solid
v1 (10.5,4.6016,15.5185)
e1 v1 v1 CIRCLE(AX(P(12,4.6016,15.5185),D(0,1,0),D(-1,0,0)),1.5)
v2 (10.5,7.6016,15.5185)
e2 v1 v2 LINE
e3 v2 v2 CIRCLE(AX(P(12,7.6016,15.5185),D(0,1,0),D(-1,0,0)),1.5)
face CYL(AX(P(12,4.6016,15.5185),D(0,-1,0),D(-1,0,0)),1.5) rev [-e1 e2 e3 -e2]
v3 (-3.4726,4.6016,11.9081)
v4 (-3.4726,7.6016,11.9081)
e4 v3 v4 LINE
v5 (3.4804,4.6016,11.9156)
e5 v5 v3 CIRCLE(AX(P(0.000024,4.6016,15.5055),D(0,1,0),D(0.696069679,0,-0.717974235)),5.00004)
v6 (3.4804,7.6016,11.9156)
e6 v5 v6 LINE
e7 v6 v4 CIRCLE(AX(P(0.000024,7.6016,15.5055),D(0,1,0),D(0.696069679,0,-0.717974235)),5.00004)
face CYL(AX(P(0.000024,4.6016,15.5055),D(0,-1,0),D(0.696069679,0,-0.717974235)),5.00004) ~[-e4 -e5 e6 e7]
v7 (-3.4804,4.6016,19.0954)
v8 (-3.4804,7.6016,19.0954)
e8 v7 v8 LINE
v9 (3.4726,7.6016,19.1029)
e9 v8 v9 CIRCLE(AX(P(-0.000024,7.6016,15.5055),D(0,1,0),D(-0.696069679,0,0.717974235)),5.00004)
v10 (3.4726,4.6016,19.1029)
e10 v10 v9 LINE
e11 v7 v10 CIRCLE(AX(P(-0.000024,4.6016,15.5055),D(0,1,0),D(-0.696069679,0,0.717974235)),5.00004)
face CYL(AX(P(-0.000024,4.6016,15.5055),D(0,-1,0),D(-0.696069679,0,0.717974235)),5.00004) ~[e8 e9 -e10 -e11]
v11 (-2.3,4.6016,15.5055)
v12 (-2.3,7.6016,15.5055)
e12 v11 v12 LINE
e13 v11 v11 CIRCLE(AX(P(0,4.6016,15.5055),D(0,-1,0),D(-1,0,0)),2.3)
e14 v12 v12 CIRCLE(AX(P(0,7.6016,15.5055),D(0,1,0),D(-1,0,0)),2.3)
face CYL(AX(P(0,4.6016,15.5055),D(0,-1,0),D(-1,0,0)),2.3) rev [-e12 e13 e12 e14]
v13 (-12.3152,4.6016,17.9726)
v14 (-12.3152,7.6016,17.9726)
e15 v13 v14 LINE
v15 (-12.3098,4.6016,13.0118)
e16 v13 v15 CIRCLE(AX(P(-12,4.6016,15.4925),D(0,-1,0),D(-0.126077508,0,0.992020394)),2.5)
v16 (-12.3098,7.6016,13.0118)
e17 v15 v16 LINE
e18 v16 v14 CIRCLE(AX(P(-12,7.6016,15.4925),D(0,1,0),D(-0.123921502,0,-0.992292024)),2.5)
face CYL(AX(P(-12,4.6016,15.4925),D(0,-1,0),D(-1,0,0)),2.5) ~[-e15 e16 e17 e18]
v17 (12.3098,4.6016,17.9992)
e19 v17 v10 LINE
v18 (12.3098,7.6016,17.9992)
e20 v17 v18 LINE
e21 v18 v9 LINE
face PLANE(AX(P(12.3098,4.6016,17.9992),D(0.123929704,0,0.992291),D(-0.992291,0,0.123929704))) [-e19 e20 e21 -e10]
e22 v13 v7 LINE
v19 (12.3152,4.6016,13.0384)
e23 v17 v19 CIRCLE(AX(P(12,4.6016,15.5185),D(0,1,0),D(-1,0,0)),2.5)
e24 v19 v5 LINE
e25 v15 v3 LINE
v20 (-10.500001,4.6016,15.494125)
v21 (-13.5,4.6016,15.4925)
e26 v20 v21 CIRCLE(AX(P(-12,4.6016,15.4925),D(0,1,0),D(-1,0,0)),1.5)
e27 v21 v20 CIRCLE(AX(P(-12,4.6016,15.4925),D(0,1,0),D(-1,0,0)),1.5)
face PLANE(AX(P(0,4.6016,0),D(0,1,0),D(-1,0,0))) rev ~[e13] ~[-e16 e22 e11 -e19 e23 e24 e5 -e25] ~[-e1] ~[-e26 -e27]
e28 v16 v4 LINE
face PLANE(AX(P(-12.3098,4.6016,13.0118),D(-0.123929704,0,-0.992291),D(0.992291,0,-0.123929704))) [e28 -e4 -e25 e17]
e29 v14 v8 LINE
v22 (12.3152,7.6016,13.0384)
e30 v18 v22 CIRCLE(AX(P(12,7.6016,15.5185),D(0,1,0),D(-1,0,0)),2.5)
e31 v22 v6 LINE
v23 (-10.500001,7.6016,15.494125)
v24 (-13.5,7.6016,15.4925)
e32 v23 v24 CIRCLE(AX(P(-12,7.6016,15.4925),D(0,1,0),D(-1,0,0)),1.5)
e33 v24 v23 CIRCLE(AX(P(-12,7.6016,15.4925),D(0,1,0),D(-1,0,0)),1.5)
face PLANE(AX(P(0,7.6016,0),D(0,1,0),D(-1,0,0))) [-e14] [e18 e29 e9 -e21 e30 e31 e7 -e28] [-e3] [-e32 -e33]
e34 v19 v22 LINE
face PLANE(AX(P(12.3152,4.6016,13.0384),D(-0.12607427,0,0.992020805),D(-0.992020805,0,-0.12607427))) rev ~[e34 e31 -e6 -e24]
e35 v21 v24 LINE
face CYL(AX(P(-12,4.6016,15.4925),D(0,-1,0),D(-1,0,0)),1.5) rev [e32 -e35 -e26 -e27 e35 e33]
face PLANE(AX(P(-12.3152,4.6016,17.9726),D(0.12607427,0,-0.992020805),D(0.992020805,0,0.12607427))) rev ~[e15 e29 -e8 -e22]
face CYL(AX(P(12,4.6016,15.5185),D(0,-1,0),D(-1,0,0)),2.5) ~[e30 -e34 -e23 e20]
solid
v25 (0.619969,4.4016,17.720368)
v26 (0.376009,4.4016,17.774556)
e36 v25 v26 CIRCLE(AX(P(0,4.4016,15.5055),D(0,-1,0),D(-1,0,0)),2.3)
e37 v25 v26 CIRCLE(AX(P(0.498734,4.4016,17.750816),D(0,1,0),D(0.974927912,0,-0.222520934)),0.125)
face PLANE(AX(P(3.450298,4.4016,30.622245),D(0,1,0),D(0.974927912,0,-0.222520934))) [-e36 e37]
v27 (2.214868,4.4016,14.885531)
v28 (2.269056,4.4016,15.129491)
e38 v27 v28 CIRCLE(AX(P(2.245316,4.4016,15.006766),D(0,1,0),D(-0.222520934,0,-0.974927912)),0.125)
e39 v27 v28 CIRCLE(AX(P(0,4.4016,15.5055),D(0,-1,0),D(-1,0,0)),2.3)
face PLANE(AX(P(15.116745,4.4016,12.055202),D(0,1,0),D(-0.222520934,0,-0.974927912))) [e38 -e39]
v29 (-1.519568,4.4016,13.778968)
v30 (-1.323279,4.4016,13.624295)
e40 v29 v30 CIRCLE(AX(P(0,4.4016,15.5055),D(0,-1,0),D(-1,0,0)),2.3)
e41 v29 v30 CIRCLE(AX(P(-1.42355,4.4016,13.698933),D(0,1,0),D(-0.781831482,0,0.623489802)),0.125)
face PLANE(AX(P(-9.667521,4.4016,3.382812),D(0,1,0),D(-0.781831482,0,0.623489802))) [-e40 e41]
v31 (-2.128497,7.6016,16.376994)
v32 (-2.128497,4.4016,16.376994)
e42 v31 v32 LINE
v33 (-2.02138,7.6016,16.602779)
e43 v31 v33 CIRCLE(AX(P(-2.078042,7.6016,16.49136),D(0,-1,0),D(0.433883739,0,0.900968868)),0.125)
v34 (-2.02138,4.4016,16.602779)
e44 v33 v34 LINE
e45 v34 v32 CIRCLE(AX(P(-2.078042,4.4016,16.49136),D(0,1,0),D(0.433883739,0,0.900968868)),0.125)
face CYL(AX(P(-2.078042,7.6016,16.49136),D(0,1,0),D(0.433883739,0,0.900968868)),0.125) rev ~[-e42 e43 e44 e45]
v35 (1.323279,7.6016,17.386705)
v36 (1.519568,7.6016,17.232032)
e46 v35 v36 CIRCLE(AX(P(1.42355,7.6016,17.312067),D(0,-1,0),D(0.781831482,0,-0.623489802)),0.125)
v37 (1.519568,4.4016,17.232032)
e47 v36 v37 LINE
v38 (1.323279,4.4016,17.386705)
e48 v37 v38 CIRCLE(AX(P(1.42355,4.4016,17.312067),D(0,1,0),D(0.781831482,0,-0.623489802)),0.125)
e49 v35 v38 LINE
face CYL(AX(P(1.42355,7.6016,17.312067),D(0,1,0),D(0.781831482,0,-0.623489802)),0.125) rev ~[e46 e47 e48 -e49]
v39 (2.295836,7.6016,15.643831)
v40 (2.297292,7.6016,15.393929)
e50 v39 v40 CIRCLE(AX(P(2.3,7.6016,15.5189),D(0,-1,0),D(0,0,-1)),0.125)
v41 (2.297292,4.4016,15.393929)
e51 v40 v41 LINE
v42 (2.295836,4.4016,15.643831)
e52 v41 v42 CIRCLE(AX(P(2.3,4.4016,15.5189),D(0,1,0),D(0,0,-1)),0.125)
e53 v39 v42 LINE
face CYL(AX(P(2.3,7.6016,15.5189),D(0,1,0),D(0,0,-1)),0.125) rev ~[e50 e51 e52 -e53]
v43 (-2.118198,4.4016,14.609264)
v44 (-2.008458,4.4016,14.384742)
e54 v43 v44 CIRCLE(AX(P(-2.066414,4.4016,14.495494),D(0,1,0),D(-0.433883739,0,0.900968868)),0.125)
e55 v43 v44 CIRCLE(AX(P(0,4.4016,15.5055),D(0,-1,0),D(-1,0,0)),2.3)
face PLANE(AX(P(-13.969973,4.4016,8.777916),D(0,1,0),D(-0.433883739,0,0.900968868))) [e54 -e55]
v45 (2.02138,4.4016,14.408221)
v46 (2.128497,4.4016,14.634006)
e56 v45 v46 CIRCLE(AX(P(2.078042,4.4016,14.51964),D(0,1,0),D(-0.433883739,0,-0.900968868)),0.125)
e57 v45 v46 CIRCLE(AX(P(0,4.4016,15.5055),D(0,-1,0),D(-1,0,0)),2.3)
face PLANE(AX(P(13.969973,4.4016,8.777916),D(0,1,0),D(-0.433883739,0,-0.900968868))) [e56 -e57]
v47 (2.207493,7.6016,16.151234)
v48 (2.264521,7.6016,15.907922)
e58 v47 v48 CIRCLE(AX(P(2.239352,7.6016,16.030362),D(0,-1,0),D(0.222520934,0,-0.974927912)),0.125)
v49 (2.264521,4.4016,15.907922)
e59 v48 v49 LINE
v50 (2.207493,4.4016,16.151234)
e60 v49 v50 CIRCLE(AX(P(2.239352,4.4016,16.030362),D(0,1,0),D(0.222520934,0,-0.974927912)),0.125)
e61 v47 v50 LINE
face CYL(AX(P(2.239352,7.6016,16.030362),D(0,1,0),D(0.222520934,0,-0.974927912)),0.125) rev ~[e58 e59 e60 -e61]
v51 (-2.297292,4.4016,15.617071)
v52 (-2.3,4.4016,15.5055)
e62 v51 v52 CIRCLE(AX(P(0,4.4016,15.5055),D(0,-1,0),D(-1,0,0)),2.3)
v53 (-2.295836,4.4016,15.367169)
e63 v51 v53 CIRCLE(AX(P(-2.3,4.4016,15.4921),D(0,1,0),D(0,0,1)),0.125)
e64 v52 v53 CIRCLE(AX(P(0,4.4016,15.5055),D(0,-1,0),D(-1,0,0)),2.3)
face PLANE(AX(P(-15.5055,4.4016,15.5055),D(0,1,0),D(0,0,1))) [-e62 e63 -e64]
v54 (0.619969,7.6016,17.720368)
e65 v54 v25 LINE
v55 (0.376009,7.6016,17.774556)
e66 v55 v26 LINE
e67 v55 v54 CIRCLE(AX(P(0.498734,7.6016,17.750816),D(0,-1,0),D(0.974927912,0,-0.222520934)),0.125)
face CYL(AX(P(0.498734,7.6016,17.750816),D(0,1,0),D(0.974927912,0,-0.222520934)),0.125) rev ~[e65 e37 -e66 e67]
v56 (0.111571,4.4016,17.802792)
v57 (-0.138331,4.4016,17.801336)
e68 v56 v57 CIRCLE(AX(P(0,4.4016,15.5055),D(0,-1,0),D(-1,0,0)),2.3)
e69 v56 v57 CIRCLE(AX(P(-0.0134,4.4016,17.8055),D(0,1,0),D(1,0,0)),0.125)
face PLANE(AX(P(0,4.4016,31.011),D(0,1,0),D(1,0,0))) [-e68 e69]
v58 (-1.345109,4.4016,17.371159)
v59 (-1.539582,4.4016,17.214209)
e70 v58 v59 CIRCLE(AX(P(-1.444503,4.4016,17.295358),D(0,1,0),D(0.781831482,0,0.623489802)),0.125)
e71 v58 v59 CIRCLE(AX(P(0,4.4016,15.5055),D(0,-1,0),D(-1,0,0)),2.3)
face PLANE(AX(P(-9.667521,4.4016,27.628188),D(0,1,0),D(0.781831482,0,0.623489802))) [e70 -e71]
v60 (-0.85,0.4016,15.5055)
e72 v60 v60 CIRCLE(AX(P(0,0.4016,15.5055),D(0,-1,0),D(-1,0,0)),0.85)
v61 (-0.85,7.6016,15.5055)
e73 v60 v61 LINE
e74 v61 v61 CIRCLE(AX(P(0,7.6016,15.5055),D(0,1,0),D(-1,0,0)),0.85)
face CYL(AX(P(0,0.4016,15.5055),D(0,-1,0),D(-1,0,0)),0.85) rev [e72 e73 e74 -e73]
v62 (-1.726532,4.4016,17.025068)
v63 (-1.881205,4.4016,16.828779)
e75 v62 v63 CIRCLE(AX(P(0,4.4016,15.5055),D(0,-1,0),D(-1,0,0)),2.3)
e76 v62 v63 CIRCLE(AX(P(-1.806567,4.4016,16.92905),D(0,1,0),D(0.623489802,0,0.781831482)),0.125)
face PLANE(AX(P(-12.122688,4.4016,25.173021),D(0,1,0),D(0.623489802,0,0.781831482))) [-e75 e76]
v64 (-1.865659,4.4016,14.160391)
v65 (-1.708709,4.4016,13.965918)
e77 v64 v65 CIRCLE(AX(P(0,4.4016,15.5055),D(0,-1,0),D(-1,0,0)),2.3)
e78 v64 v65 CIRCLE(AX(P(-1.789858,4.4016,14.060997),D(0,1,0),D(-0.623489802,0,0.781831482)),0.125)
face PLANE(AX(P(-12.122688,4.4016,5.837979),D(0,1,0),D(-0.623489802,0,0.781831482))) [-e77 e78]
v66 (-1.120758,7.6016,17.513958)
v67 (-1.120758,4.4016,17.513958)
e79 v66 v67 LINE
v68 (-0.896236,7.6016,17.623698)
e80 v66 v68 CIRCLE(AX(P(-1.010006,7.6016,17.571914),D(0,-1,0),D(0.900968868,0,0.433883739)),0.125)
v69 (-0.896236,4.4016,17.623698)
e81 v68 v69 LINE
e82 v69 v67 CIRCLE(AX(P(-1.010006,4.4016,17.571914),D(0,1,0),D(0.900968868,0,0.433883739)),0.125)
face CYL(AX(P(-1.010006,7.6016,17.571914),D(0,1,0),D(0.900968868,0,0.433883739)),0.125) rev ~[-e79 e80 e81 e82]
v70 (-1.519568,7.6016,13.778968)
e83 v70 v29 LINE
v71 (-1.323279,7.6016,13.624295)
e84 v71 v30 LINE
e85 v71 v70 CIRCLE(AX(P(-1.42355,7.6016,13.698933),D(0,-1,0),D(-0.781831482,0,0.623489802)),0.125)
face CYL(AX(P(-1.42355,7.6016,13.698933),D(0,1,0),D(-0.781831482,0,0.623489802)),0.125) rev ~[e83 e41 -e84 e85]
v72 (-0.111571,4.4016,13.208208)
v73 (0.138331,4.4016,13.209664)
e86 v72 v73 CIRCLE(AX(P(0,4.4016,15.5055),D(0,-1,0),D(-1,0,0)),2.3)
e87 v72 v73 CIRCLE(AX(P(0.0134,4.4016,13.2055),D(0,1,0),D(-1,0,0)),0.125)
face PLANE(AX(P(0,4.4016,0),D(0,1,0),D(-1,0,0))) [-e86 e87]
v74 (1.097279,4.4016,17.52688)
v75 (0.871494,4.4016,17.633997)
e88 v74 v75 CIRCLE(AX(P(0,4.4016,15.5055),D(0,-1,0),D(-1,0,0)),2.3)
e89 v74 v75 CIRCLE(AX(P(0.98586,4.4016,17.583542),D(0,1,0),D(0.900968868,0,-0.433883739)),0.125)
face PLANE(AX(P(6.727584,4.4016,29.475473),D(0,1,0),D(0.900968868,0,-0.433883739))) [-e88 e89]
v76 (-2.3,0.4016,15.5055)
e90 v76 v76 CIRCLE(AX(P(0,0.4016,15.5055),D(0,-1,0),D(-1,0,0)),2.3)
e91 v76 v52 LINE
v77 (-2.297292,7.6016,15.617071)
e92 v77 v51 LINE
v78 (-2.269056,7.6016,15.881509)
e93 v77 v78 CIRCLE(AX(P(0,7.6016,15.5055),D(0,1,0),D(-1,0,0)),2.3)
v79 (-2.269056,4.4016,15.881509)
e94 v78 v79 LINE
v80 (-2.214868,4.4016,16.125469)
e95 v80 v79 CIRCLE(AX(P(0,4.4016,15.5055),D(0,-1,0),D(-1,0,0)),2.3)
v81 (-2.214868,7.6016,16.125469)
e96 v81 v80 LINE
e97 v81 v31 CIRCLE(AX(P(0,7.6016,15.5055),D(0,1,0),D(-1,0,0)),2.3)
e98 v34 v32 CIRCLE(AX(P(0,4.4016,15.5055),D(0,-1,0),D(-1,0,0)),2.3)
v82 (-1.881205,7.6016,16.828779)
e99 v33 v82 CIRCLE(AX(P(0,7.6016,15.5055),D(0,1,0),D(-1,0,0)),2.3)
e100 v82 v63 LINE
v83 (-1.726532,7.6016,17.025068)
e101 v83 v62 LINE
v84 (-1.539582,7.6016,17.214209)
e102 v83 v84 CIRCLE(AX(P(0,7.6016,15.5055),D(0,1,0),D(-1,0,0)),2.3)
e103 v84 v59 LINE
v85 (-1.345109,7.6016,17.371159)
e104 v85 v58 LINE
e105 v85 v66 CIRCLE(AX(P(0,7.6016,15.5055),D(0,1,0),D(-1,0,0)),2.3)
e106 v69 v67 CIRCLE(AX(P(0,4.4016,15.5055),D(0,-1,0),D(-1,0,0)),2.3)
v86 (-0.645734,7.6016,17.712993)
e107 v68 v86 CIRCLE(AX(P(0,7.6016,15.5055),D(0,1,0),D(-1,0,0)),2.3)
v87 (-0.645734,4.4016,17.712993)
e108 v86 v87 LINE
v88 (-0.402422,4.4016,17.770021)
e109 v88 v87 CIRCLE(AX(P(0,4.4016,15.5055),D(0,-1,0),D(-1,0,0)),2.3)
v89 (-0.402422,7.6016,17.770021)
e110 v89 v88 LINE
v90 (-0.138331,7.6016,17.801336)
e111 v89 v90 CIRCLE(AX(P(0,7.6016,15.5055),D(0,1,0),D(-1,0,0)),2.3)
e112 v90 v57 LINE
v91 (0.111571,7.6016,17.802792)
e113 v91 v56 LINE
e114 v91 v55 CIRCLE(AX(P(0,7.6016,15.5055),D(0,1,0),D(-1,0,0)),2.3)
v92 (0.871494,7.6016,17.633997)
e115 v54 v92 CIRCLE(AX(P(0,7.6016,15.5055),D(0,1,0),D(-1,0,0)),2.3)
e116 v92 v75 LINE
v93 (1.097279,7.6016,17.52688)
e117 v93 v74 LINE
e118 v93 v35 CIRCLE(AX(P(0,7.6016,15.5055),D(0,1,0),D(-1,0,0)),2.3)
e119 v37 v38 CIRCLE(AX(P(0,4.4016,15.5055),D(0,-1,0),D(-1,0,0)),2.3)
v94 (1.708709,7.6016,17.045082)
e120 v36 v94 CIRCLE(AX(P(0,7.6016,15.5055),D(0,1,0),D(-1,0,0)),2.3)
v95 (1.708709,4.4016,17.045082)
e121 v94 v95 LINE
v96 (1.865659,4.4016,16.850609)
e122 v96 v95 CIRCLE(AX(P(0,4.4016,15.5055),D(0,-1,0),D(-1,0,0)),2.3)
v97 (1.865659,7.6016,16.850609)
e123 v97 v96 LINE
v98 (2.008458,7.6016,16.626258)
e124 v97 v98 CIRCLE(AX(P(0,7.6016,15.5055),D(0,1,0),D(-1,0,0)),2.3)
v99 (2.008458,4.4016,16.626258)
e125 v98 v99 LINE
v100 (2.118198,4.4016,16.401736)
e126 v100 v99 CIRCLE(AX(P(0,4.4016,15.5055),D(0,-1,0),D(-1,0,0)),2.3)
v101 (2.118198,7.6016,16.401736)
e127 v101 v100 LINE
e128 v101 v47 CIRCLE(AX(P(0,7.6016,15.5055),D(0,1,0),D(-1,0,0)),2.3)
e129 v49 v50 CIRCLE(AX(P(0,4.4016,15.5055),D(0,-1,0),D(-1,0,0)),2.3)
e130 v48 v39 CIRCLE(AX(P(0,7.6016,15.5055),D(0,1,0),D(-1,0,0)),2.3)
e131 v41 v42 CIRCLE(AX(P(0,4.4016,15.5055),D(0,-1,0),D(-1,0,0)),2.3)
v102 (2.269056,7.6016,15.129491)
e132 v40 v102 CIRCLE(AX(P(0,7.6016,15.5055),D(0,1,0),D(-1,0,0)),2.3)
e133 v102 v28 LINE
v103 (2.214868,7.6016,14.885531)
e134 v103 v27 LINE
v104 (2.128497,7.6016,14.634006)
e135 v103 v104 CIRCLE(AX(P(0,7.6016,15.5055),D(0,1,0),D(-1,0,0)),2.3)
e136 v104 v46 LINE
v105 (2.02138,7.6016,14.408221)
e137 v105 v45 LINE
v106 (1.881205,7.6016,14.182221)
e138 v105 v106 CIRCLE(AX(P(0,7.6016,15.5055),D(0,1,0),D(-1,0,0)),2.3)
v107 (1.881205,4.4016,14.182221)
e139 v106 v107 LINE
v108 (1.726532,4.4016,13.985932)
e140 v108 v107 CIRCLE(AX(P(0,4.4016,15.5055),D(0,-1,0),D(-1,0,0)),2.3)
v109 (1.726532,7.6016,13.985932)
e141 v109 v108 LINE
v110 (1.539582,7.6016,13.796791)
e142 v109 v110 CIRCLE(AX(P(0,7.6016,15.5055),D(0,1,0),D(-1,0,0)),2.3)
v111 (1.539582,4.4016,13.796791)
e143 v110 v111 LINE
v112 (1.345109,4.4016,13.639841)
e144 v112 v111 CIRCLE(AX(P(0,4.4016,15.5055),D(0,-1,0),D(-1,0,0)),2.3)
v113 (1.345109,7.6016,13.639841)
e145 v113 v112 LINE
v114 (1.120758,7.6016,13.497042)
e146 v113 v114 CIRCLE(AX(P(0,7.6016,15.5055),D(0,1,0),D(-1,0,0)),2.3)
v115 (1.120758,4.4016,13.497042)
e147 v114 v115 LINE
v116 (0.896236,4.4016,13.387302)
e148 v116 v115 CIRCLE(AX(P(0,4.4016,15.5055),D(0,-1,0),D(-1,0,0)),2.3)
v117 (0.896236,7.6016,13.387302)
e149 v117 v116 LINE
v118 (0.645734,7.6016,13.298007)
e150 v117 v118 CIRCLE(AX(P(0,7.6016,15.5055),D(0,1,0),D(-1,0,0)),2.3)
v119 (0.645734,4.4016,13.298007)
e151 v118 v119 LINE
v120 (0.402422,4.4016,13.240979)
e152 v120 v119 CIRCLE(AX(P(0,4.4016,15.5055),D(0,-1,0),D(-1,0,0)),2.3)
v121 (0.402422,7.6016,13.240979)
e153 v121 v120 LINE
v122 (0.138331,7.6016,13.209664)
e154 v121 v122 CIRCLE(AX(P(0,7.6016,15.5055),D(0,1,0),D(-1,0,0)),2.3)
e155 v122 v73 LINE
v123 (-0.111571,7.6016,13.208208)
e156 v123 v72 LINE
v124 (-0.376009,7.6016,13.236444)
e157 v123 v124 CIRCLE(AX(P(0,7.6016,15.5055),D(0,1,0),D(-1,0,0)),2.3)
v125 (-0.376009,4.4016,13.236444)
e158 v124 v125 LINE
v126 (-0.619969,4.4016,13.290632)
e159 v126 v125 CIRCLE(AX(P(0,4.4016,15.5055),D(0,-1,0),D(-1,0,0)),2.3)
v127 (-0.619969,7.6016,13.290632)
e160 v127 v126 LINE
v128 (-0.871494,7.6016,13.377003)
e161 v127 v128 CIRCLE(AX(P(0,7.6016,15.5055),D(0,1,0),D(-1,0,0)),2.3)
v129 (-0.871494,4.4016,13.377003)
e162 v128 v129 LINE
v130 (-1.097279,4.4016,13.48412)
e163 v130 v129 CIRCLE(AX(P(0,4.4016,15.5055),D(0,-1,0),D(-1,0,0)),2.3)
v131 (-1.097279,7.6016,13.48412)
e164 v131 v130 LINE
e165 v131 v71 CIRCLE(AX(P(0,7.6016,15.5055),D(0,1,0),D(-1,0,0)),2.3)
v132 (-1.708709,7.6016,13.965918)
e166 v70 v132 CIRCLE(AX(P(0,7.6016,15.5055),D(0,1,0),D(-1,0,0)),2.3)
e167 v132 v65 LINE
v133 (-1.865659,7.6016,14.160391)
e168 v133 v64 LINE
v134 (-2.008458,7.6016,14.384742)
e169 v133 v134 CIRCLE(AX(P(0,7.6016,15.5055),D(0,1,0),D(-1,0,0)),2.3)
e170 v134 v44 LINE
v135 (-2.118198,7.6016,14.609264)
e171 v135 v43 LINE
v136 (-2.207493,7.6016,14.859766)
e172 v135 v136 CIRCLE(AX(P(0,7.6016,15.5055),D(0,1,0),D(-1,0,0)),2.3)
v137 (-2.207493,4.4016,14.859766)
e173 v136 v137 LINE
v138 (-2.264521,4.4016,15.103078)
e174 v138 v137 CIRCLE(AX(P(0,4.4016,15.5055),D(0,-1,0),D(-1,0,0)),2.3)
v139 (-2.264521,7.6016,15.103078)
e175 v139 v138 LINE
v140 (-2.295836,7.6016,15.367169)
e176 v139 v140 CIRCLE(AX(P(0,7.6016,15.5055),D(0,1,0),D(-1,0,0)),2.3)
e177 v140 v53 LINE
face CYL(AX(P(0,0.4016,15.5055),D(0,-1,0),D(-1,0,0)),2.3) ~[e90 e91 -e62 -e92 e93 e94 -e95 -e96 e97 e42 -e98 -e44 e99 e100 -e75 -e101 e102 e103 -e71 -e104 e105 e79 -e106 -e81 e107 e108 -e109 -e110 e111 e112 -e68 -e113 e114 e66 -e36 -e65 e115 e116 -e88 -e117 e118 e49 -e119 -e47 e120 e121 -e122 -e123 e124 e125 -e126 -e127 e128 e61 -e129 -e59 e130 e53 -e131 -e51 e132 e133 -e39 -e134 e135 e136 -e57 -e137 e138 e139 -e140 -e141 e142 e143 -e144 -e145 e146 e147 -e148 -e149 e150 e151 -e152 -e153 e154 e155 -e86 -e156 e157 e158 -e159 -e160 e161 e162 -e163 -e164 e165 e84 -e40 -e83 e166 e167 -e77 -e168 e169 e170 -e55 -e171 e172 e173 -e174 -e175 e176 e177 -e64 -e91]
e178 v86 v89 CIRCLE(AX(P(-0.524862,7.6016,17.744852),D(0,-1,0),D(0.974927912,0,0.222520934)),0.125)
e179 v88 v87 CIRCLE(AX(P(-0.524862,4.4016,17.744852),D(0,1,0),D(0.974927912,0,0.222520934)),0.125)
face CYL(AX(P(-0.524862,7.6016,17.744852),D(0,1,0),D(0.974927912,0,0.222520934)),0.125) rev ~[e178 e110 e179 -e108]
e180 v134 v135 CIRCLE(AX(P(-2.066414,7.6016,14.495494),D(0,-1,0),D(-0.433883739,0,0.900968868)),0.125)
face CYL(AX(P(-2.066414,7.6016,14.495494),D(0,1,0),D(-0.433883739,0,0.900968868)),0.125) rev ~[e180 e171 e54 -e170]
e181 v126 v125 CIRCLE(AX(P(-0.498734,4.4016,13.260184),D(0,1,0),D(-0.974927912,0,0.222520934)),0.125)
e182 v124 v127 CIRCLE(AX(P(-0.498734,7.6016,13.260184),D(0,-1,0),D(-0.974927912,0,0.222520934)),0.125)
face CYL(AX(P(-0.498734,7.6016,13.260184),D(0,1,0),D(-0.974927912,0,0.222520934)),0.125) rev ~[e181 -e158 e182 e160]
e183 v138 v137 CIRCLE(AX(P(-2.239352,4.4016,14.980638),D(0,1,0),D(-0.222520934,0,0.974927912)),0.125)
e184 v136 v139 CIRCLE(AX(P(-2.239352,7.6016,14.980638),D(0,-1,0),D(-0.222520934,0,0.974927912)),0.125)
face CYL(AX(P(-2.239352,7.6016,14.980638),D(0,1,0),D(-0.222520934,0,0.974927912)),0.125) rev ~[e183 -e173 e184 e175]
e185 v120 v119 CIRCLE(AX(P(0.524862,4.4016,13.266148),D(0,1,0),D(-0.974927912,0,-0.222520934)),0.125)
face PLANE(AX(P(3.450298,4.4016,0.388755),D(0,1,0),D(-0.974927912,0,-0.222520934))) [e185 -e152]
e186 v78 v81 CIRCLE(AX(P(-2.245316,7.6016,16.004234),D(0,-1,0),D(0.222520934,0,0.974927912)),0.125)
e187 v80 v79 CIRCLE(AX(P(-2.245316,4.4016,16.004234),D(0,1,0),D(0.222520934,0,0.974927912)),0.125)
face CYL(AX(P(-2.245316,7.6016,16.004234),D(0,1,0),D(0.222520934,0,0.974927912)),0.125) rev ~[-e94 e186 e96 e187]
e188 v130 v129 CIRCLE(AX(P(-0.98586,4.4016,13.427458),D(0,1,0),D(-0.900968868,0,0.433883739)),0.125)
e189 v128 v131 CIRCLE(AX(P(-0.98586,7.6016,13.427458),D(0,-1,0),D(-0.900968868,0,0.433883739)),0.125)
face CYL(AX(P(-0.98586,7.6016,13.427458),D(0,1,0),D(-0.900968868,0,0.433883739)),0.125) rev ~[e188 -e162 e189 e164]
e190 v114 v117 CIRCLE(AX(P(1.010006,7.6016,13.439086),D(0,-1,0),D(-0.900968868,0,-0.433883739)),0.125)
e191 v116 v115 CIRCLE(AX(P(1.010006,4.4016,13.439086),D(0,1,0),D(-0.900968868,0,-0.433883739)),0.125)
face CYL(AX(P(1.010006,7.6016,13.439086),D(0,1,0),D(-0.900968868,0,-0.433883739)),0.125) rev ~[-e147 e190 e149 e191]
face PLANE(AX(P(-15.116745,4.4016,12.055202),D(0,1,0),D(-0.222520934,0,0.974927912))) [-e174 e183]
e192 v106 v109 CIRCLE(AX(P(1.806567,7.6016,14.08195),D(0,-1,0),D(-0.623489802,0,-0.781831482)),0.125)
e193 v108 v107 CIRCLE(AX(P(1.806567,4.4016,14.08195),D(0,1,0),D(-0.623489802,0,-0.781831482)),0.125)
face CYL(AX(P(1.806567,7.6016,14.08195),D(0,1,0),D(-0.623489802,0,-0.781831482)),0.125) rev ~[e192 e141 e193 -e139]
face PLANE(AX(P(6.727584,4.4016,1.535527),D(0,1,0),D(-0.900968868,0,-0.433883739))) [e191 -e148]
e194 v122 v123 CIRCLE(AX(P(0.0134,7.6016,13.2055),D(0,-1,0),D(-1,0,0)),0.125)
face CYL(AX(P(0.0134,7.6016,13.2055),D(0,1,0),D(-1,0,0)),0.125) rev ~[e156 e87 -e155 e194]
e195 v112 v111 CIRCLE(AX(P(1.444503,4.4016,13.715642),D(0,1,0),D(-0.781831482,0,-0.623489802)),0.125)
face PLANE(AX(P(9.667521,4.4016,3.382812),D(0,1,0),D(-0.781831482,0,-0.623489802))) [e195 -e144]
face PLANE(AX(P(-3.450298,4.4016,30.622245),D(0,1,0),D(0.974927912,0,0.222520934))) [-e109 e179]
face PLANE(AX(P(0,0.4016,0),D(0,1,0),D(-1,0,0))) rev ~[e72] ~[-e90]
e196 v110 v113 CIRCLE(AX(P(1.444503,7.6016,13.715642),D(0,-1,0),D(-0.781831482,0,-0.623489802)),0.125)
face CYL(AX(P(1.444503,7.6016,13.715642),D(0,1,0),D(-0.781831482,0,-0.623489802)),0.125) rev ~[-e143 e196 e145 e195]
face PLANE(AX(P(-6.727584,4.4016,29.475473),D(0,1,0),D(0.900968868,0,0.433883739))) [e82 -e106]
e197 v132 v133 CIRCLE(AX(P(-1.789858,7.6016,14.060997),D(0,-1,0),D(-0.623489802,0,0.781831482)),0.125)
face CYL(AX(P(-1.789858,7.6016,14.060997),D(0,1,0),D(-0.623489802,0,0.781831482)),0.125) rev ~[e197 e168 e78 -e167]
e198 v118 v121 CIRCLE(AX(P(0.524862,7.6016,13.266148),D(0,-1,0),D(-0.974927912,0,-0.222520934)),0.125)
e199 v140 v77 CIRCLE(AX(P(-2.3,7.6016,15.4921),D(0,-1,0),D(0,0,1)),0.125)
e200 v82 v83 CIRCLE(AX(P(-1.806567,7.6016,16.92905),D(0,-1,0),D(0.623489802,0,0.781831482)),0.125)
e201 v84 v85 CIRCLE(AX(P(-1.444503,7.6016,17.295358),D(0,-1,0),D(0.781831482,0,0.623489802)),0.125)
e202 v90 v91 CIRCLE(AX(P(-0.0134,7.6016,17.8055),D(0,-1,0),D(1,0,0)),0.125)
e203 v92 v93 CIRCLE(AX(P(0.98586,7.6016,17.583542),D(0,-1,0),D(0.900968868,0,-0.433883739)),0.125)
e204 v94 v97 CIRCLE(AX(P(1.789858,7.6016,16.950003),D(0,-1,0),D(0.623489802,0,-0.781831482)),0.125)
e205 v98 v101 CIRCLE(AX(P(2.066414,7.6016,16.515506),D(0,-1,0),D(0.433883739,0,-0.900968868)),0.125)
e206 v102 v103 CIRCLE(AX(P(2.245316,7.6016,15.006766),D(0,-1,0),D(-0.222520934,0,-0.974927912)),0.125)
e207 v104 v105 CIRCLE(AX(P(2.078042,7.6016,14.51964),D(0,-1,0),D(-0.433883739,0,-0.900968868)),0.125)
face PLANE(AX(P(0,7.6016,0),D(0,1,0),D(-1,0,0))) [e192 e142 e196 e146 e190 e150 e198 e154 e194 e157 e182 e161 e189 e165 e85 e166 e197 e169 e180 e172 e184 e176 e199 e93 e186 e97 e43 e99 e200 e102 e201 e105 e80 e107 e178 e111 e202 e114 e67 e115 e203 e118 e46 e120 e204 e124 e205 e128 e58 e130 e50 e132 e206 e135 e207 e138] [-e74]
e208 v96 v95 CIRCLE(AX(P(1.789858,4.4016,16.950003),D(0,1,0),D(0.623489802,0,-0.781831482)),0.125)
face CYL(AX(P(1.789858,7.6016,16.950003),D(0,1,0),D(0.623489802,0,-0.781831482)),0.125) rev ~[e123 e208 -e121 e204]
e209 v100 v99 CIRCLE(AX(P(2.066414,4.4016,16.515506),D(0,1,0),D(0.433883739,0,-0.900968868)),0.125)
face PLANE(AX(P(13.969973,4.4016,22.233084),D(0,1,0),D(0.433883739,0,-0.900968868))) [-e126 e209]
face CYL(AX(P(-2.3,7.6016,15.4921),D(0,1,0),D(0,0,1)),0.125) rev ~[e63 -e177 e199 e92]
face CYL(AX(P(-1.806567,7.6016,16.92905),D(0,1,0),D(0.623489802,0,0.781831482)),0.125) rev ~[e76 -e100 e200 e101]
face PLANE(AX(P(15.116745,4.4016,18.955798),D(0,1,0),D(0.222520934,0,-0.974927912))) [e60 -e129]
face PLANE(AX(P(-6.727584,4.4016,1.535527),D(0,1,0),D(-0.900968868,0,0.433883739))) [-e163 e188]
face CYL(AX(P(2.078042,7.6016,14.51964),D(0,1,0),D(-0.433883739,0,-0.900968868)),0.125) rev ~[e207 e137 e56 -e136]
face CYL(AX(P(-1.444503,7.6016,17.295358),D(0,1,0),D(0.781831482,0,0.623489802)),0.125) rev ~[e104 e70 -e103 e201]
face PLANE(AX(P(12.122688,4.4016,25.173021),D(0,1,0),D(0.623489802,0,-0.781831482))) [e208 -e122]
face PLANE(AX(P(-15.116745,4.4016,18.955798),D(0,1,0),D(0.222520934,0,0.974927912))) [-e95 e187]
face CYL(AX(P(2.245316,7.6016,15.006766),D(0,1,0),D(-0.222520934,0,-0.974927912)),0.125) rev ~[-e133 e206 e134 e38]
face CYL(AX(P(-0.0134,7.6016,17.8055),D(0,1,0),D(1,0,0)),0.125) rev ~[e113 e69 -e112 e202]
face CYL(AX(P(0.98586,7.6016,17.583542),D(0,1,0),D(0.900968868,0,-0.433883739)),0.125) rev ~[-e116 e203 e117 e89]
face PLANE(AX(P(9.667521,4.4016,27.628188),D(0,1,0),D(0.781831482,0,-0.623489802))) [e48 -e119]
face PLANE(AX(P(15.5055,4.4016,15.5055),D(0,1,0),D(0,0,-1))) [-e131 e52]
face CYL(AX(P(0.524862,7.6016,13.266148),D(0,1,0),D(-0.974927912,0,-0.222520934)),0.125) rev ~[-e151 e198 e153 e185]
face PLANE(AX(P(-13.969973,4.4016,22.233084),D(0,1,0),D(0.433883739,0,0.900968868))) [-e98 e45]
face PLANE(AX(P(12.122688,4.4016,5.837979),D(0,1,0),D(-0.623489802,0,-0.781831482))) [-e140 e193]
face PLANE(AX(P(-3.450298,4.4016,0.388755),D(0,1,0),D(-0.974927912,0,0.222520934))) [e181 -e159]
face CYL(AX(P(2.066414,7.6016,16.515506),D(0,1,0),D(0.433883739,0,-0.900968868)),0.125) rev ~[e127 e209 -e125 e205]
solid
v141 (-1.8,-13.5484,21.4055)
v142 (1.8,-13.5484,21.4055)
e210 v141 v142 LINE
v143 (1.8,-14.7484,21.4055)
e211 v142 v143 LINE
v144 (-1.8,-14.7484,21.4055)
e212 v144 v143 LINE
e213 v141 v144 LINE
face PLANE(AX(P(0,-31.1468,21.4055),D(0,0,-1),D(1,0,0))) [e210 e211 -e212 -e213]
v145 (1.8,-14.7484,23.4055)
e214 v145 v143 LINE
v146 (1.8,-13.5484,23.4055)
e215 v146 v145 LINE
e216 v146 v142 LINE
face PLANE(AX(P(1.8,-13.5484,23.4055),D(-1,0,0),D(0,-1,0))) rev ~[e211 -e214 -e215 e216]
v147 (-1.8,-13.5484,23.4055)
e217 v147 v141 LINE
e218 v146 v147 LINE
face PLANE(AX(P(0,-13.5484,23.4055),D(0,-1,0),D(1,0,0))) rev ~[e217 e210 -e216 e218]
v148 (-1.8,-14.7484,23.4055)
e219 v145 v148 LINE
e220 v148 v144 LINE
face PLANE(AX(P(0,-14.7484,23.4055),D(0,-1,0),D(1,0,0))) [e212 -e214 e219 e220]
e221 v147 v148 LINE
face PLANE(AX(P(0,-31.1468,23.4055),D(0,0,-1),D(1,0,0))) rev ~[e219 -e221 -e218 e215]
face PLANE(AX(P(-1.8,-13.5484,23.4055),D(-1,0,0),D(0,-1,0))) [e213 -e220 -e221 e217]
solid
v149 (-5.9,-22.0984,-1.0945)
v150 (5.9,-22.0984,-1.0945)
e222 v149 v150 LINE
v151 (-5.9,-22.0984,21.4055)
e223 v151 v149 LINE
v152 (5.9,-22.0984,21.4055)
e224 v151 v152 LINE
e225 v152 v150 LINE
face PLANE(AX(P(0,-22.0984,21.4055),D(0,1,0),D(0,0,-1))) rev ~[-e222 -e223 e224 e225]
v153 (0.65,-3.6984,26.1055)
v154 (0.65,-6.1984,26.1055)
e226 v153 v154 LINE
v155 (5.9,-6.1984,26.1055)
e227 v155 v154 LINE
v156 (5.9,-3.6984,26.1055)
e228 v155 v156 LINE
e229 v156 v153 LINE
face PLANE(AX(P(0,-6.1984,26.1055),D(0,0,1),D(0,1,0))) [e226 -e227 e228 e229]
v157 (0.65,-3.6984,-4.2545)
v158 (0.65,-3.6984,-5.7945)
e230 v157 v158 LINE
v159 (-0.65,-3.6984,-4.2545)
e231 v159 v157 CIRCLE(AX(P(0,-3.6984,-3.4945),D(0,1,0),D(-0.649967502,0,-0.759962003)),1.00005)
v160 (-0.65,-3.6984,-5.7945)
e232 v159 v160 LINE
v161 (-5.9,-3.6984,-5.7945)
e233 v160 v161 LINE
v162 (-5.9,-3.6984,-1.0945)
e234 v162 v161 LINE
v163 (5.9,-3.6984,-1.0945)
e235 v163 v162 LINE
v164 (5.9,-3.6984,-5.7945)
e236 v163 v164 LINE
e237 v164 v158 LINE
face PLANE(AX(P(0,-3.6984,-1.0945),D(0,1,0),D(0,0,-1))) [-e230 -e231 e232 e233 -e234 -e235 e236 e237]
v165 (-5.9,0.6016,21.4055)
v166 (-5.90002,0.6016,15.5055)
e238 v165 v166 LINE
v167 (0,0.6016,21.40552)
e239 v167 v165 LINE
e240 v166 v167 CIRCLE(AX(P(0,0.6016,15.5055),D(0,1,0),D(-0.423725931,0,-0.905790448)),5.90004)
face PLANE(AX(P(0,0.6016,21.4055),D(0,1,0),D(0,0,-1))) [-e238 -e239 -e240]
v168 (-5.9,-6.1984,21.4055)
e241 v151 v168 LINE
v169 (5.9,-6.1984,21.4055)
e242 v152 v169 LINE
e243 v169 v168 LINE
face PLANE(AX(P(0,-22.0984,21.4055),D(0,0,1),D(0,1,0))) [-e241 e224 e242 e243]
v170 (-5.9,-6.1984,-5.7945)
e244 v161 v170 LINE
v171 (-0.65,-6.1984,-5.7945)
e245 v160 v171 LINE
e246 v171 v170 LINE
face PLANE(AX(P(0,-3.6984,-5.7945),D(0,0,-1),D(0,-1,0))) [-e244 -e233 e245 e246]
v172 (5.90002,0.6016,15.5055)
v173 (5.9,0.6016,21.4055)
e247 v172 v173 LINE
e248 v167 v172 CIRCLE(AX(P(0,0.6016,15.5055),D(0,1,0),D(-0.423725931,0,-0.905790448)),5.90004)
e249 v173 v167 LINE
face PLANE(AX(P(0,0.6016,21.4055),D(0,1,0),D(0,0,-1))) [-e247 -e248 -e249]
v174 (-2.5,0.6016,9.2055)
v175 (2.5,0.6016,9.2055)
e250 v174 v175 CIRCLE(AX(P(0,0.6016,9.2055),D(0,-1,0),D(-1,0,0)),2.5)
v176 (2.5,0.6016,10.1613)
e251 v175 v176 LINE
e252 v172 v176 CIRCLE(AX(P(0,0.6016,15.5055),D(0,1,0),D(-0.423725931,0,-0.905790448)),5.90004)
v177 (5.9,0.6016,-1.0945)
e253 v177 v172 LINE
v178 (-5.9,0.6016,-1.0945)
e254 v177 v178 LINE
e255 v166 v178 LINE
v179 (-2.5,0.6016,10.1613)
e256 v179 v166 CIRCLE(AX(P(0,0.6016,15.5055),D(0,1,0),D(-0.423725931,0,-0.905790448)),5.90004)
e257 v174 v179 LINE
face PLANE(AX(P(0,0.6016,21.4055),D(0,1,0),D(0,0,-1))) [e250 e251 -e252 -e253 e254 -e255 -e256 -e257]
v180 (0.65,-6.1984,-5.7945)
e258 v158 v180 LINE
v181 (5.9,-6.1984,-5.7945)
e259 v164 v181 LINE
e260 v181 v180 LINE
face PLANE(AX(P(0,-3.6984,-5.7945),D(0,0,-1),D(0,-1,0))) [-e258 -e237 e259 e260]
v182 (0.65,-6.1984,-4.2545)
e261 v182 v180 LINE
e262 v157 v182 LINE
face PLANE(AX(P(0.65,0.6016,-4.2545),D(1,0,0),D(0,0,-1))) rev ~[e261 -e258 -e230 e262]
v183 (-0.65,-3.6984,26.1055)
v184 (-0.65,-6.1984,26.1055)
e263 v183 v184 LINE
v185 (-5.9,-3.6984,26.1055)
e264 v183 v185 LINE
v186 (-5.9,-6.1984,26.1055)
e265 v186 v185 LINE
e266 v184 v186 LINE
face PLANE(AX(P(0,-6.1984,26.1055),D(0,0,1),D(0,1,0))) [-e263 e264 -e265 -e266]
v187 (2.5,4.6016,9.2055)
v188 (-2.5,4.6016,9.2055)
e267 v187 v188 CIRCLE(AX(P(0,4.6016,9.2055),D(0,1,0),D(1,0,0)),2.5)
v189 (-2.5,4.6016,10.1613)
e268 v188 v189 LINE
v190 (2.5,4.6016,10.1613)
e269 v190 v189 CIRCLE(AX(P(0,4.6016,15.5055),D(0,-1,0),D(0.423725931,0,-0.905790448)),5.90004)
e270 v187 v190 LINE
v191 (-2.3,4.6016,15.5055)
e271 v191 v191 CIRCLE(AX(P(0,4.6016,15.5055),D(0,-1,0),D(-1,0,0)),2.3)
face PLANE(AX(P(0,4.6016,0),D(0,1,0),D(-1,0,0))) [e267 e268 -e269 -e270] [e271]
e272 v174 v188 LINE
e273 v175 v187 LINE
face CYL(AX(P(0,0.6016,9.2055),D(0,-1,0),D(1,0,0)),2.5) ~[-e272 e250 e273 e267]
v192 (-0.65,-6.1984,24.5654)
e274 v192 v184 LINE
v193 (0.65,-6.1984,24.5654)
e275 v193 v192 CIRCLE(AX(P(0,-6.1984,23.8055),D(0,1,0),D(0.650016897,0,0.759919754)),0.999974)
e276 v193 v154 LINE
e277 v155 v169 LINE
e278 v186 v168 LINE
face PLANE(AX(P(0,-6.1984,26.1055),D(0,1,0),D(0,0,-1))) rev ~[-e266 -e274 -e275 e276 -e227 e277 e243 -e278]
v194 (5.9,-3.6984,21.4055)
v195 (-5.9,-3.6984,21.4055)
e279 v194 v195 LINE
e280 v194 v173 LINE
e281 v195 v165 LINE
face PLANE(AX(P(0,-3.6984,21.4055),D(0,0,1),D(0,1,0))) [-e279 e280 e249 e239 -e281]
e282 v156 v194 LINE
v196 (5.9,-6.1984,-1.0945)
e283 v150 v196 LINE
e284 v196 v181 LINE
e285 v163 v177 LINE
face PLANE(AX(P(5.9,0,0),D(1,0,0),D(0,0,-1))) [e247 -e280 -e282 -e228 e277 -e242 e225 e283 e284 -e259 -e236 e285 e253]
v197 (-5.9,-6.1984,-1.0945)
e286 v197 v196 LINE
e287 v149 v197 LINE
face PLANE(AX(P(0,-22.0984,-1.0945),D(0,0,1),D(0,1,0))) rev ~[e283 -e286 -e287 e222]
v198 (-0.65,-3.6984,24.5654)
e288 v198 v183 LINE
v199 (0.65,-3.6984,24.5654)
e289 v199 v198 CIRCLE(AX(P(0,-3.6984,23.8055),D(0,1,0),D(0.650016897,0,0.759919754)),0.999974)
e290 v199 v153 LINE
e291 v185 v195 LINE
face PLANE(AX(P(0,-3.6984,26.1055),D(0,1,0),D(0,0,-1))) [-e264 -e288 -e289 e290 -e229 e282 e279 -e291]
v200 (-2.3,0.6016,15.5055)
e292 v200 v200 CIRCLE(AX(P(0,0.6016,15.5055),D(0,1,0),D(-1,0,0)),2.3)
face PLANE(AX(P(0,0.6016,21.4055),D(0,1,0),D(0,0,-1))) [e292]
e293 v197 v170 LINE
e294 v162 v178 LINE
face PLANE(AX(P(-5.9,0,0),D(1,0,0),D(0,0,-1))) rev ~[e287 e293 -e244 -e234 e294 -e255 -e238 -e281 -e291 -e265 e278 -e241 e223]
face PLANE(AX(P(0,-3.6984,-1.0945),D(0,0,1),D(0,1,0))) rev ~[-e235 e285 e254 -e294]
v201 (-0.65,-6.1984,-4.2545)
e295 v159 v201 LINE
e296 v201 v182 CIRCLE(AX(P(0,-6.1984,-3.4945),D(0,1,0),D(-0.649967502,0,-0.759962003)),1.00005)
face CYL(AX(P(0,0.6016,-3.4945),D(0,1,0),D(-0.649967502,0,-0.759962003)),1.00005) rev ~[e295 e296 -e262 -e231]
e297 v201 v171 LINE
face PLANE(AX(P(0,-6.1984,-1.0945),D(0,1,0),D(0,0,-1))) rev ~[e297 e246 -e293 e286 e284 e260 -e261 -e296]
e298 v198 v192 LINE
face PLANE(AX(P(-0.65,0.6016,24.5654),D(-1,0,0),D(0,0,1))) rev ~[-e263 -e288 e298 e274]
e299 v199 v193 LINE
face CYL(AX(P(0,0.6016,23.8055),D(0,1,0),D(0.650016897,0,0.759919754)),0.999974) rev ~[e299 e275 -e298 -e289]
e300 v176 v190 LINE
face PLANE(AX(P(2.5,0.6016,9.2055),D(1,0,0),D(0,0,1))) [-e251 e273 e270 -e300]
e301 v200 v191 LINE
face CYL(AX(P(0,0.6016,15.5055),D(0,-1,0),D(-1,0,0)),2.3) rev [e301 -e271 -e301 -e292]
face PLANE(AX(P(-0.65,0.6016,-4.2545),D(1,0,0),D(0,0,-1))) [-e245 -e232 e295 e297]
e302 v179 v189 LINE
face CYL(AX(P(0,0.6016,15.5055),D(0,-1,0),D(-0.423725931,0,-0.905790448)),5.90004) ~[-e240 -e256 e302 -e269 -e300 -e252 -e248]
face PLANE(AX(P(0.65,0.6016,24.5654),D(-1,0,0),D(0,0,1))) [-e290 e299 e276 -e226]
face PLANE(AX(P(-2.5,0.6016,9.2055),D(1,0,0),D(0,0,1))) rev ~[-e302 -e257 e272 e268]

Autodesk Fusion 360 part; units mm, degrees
sketch "Left" plane through (0, 0, 0) normal (1, 0, 0) x (0, 0, -1)
  line L0 (-21.4055, -22.0984) -> (1.0945, -22.0984)
  line L1 (-21.4055, 4.6016) -> (1.0945, 4.6016)
  line L2 (-21.4055, 0.6016) -> (1.0945, 0.6016)
  line L3 (-21.4055, 0.6016) -> (-21.4055, 4.6016)
  line L4 (5.7945, -22.0984) -> (5.7945, -6.1984)
  line L5 (-26.1055, -6.1984) -> (-26.1055, -3.6984)
  line L6 (-26.1055, -3.6984) -> (-21.4055, -3.6984)
  line L7 (1.0945, -3.6984) -> (5.7945, -3.6984)
  line L8 (-26.1055, -6.1984) -> (-21.4055, -6.1984)
  line L9 (1.0945, -6.1984) -> (5.7945, -6.1984)
  line L10 (1.0945, -22.0984) -> (1.0945, -6.1984)
  line L11 (1.0945, -3.6984) -> (1.0945, 0.6016)
  line L12 (-21.4055, -22.0984) -> (-21.4055, -6.1984)
  line L13 (-21.4055, -3.6984) -> (-21.4055, 0.6016)
  line L14 (-15.5055, 0.6016) -> (-15.5055, 13)
  line L15 (-6.7055, 0.6016) -> (-6.7055, 13)
  line L16 (1.0945, -22.0984) -> (1.0945, -6.1984)
  line L17 (1.0945, -3.6984) -> (1.0945, 13)
  line L18 (5.7945, -3.6984) -> (5.7945, -6.1984)
  dimension "d1" = 22.5
  dimension "d2" = 26.7
  dimension "d3" = 22.7
  dimension "d4" = 4
  dimension "d5" = 22.7
  dimension "d13" = 5.9
extrude "Extrude1" add sketch "Left" along normal mid plane 11.8 contours L0 L2 L5 L6 L7 L8 L9 L10 L11 L12 L13 L16 L17 L18 makes body 1
sketch "TOP" plane through (0, 0.6016, 0) normal (0, 1, 0) x (-1, 0, 0)
  line L0 (5.9, 21.4055) -> (-5.9, 21.4055)
  line L1 (-5.9, 21.4055) -> (-5.9, -1.0945)
  line L2 (-5.9, -1.0945) -> (5.9, -1.0945)
  line L3 (5.9, -1.0945) -> (5.9, 21.4055)
  circle A0 centre (0, 15.5055) radius 2.3
  circle A1 centre (0, 15.5055) radius 0.85
  line L4 (0, -1.0945) -> (0, 27)
  line L5 (0, 27) -> (0, -1.0945)
  arc A2 (-2.5, 9.2055) -> (2.5, 9.2055) centre (0, 9.2055) ccw
  line L6 (-2.5, 9.2055) -> (-2.5, 10.1613)
  line L7 (2.5, 9.2055) -> (2.5, 10.1613)
  arc A3 (2.5, 10.1613) -> (-2.5, 10.1613) centre (0, 15.5055) ccw
  line L8 (5.9, -5.7945) -> (-5.9, -5.7945)
  line L9 (-0.65, -4.2545) -> (-0.65, -5.7945)
  line L10 (0.65, -4.2545) -> (0.65, -5.7945)
  arc A4 (0.65, -4.2545) -> (-0.65, -4.2545) centre (0, -3.4945) ccw
  line L11 (5.9, 26.1055) -> (-5.9, 26.1055)
  arc A5 (-0.65, 24.5654) -> (0.65, 24.5654) centre (0, 23.8055) ccw
  line L12 (0.65, 24.5654) -> (0.65, 26.1055)
  line L13 (-0.65, 24.5654) -> (-0.65, 26.1055)
  point P0 (0, 15.5055)
  point P1 (0, 6.7055)
  point P2 (0, -1.0945)
  point P3 (5.9, -5.7945)
  point P4 (-5.9, -5.7945)
  point P5 (0, -5.7945)
  point P6 (5.9, 26.1055)
  point P7 (-5.9, 26.1055)
  point P8 (0, 26.1055)
  point P9 (0, 21.4055)
  dimension "d16" = 4.6
  dimension "d17" = 1.7
  dimension "d18" = 11.8
  dimension "d27" = 2
  dimension "d31" = 2
extrude "Extrude2" add sketch "TOP" along normal blind 4 contours A0 L4 L5 A2 L7 A3 | A0 L4 L5 A2 L6 A3 bodies 1
extrude "Extrude3" add sketch "TOP" along normal blind 7.2 separate body contours A0 A1 L4 L5 | A0 A1 L4 L5 makes body 2
extrude "Extrude4" cut sketch "TOP" against normal through all contours L4 L5 L11 A5 L13 | L4 L5 L11 A5 L12 bodies 1
extrude "Extrude5" cut sketch "TOP" against normal through all contours L8 L9 L10 A4 bodies 1
sketch "Front" plane through (0, 0, 21.4055) normal (0, 0, 1) x (1, 0, 0)
  line L0 (-5.9, -22.0984) -> (5.9, -22.0984)
  line L1 (5.9, -22.0984) -> (5.9, -6.1984)
  line L2 (5.9, -6.1984) -> (-5.9, -6.1984)
  line L3 (-5.9, -6.1984) -> (-5.9, -22.0984)
  line L4 (-1.8, -17.5984) -> (1.8, -17.5984)
  line L5 (0, -22.0984) -> (0, -6.1984)
  line L6 (1.8, -17.5984) -> (1.8, -16.3984)
  line L7 (-1.8, -17.5984) -> (-1.8, -16.3984)
  line L8 (-1.8, -16.3984) -> (1.8, -16.3984)
extrude "Extrude6" add sketch "Front" along normal blind 2 separate body contours L4 L5 L6 L8 | L4 L5 L7 L8 makes body 3
copy_body "Body->Comp1" bodies 3 removing the originals makes body 4 in component "Prikljiček"
copy_body "Body->Comp2" bodies 2 removing the originals makes body 5 in component "OSovina"
copy_body "Body->Comp3" bodies 1 removing the originals makes body 6 in component "Ohisje"
sketch "Sketch1" plane through (0, 7.8016, 0) normal (0, 1, 0) x (-1, 0, 0) in component "OSovina"
  circle A0 centre (0, 15.5055) radius 0.85
  circle A1 centre (0, 15.5055) radius 2.3
  circle A2 centre (0, 15.5055) radius 2.3
  circle A3 centre (-0.0134, 13.2055) radius 0.125
  dimension "d42" = 0.25
extrude "Extrude1'" cut sketch "Sketch1" against normal up to surface (3.2 mm away) contours A1 A2 A3 | A1 A2 A3 picked at (-0.0101, 13.2473) picked at (-0.0141, 13.1641) bodies 5 in component "OSovina"
pattern_circular "C-Pattern1" count 28 over 360 about axis through (0, 15.4797, 15.5055) along (0, -1, 0) of "Extrude1'" in component "OSovina"
sketch "Sketch1 (2)" plane through (0, 0.6016, 0) normal (0, 1, 0) x (-1, 0, 0) in component "Pin"
  circle A0 centre (0, 15.5055) radius 2.3
  arc A1 (0.62, 13.2906) -> (0.376, 13.2364) centre (0.4987, 13.2602) ccw
  arc A2 (0.62, 13.2906) -> (0.8715, 13.377) centre (0, 15.5055) ccw
  arc A3 (1.0973, 13.4841) -> (0.8715, 13.377) centre (0.9858, 13.4275) ccw
  arc A4 (1.0973, 13.4841) -> (1.3233, 13.6243) centre (0, 15.5055) ccw
  arc A5 (1.5196, 13.7789) -> (1.3233, 13.6243) centre (1.4235, 13.6989) ccw
  arc A6 (1.5196, 13.7789) -> (1.7087, 13.9659) centre (0, 15.5055) ccw
  arc A7 (1.8656, 14.1604) -> (1.7087, 13.9659) centre (1.7898, 14.061) ccw
  arc A8 (1.8656, 14.1604) -> (2.0084, 14.3847) centre (0, 15.5055) ccw
  arc A9 (2.1182, 14.6092) -> (2.0084, 14.3847) centre (2.0664, 14.4955) ccw
  arc A10 (2.1182, 14.6092) -> (2.2075, 14.8597) centre (0, 15.5055) ccw
  arc A11 (2.2645, 15.103) -> (2.2075, 14.8597) centre (2.2393, 14.9806) ccw
  arc A12 (2.2645, 15.103) -> (2.2958, 15.3671) centre (0, 15.5055) ccw
  arc A13 (2.2973, 15.617) -> (2.2958, 15.3671) centre (2.3, 15.4921) ccw
  arc A14 (2.2973, 15.617) -> (2.2691, 15.8815) centre (0, 15.5055) ccw
  arc A15 (2.2149, 16.1254) -> (2.2691, 15.8815) centre (2.2453, 16.0042) ccw
  arc A16 (2.2149, 16.1254) -> (2.1285, 16.377) centre (0, 15.5055) ccw
  arc A17 (2.0214, 16.6027) -> (2.1285, 16.377) centre (2.078, 16.4913) ccw
  arc A18 (2.0214, 16.6027) -> (1.8812, 16.8287) centre (0, 15.5055) ccw
  arc A19 (1.7265, 17.025) -> (1.8812, 16.8287) centre (1.8065, 16.929) ccw
  arc A20 (1.7265, 17.025) -> (1.5396, 17.2142) centre (0, 15.5055) ccw
  arc A21 (1.3451, 17.3711) -> (1.5396, 17.2142) centre (1.4445, 17.2953) ccw
  arc A22 (1.3451, 17.3711) -> (1.1208, 17.5139) centre (0, 15.5055) ccw
  arc A23 (0.8963, 17.6237) -> (1.1208, 17.5139) centre (1.01, 17.5719) ccw
  arc A24 (0.8963, 17.6237) -> (0.6458, 17.713) centre (0, 15.5055) ccw
  arc A25 (0.4024, 17.77) -> (0.6458, 17.713) centre (0.5249, 17.7448) ccw
  arc A26 (0.4024, 17.77) -> (0.1383, 17.8013) centre (0, 15.5055) ccw
  arc A27 (-0.1116, 17.8028) -> (0.1383, 17.8013) centre (0.0134, 17.8054) ccw
  arc A28 (-0.1116, 17.8028) -> (-0.376, 17.7745) centre (0, 15.5055) ccw
  arc A29 (-0.62, 17.7204) -> (-0.376, 17.7745) centre (-0.4987, 17.7508) ccw
  arc A30 (-0.62, 17.7204) -> (-0.8715, 17.634) centre (0, 15.5055) ccw
  arc A31 (-1.0973, 17.5269) -> (-0.8715, 17.634) centre (-0.9858, 17.5835) ccw
  arc A32 (-1.0973, 17.5269) -> (-1.3233, 17.3867) centre (0, 15.5055) ccw
  arc A33 (-1.5196, 17.232) -> (-1.3233, 17.3867) centre (-1.4235, 17.312) ccw
  arc A34 (-1.5196, 17.232) -> (-1.7087, 17.0451) centre (0, 15.5055) ccw
  arc A35 (-1.8656, 16.8506) -> (-1.7087, 17.0451) centre (-1.7898, 16.95) ccw
  arc A36 (-1.8656, 16.8506) -> (-2.0084, 16.6263) centre (0, 15.5055) ccw
  arc A37 (-2.1182, 16.4017) -> (-2.0084, 16.6263) centre (-2.0664, 16.5155) ccw
  arc A38 (-2.1182, 16.4017) -> (-2.2075, 16.1512) centre (0, 15.5055) ccw
  arc A39 (-2.2645, 15.9079) -> (-2.2075, 16.1512) centre (-2.2393, 16.0304) ccw
  arc A40 (-2.2645, 15.9079) -> (-2.2958, 15.6438) centre (0, 15.5055) ccw
  arc A41 (-2.2973, 15.3939) -> (-2.2958, 15.6438) centre (-2.3, 15.5189) ccw
  arc A42 (-2.2973, 15.3939) -> (-2.2691, 15.1295) centre (0, 15.5055) ccw
  arc A43 (-2.2149, 14.8855) -> (-2.2691, 15.1295) centre (-2.2453, 15.0068) ccw
  arc A44 (-2.2149, 14.8855) -> (-2.1285, 14.634) centre (0, 15.5055) ccw
  arc A45 (-2.0214, 14.4082) -> (-2.1285, 14.634) centre (-2.078, 14.5197) ccw
  arc A46 (-2.0214, 14.4082) -> (-1.8812, 14.1822) centre (0, 15.5055) ccw
  arc A47 (-1.7265, 13.9859) -> (-1.8812, 14.1822) centre (-1.8065, 14.082) ccw
  arc A48 (-1.7265, 13.9859) -> (-1.5396, 13.7968) centre (0, 15.5055) ccw
  arc A49 (-1.3451, 13.6398) -> (-1.5396, 13.7968) centre (-1.4445, 13.7157) ccw
  arc A50 (-1.3451, 13.6398) -> (-1.1208, 13.497) centre (0, 15.5055) ccw
  arc A51 (-0.8963, 13.3873) -> (-1.1208, 13.497) centre (-1.01, 13.4391) ccw
  arc A52 (-0.8963, 13.3873) -> (-0.6458, 13.298) centre (0, 15.5055) ccw
  arc A53 (-0.4024, 13.241) -> (-0.6458, 13.298) centre (-0.5249, 13.2662) ccw
  arc A54 (-0.4024, 13.241) -> (-0.1383, 13.2096) centre (0, 15.5055) ccw
  arc A55 (0.1116, 13.2082) -> (-0.1383, 13.2096) centre (-0.0134, 13.2055) ccw
  arc A56 (0.1116, 13.2082) -> (0.376, 13.2364) centre (0, 15.5055) ccw
  circle A57 centre (0, 15.5055) radius 0.85
  line L0 (0, 15.5055) -> (-12, 15.5185)
  circle A58 centre (-12, 15.5185) radius 1.5
  circle A59 centre (-12, 15.5185) radius 2.5
  line L1 (0, 15.5055) -> (12, 15.4925)
  circle A60 centre (12, 15.4925) radius 1.5
  circle A61 centre (12, 15.4925) radius 2.5
  line L2 (12.3098, 13.0118) -> (3.4726, 11.9081)
  line L3 (-12.3152, 13.0384) -> (-3.4804, 11.9156)
  line L4 (12.3152, 17.9726) -> (3.4804, 19.0954)
  line L5 (-12.3098, 17.9992) -> (-3.4726, 19.1029)
  arc A62 (3.4804, 19.0954) -> (-3.4726, 19.1029) centre (0, 15.5055) ccw
  arc A63 (-3.4804, 11.9156) -> (3.4726, 11.9081) centre (0, 15.5055) ccw
  dimension "d56" = 12
  dimension "d57" = 3
  dimension "d58" = 1
  dimension "d59" = 12
  dimension "d60" = 3
  dimension "d61" = 1
extrude "Extrude1''" add sketch "Sketch1 (2)" along normal blind 3 separate body contours A0 A14 A16 A18 A20 A22 A24 A26 A28 A30 A32 A34 A36 A38 A40 L0 A59 L1 A61 L4 L5 A62 | A0 A2 A4 A6 A8 A10 A12 A42 A44 A46 A48 A50 A52 A54 A56 L0 A59 L1 A61 L2 L3 A63 | A61 | A59 makes body 7 in component "Pin"
component "Prikljiček" placed x (1, 0, 0) y (0, -1, 0) z (0, 0, -1) at (0, -31.1468, 44.811)
component "OSovina" placed x (1, 0, 0) y (0, 1, 0) z (0, 0, 1) at (0, -0.2, 0)
component "Ohisje" placed x (1, 0, 0) y (0, 1, 0) z (0, 0, 1) at (0, 0, 0)
component "Pin" placed x (1, 0, 0) y (0, 1, 0) z (0, 0, 1) at (0, 4, 0)
